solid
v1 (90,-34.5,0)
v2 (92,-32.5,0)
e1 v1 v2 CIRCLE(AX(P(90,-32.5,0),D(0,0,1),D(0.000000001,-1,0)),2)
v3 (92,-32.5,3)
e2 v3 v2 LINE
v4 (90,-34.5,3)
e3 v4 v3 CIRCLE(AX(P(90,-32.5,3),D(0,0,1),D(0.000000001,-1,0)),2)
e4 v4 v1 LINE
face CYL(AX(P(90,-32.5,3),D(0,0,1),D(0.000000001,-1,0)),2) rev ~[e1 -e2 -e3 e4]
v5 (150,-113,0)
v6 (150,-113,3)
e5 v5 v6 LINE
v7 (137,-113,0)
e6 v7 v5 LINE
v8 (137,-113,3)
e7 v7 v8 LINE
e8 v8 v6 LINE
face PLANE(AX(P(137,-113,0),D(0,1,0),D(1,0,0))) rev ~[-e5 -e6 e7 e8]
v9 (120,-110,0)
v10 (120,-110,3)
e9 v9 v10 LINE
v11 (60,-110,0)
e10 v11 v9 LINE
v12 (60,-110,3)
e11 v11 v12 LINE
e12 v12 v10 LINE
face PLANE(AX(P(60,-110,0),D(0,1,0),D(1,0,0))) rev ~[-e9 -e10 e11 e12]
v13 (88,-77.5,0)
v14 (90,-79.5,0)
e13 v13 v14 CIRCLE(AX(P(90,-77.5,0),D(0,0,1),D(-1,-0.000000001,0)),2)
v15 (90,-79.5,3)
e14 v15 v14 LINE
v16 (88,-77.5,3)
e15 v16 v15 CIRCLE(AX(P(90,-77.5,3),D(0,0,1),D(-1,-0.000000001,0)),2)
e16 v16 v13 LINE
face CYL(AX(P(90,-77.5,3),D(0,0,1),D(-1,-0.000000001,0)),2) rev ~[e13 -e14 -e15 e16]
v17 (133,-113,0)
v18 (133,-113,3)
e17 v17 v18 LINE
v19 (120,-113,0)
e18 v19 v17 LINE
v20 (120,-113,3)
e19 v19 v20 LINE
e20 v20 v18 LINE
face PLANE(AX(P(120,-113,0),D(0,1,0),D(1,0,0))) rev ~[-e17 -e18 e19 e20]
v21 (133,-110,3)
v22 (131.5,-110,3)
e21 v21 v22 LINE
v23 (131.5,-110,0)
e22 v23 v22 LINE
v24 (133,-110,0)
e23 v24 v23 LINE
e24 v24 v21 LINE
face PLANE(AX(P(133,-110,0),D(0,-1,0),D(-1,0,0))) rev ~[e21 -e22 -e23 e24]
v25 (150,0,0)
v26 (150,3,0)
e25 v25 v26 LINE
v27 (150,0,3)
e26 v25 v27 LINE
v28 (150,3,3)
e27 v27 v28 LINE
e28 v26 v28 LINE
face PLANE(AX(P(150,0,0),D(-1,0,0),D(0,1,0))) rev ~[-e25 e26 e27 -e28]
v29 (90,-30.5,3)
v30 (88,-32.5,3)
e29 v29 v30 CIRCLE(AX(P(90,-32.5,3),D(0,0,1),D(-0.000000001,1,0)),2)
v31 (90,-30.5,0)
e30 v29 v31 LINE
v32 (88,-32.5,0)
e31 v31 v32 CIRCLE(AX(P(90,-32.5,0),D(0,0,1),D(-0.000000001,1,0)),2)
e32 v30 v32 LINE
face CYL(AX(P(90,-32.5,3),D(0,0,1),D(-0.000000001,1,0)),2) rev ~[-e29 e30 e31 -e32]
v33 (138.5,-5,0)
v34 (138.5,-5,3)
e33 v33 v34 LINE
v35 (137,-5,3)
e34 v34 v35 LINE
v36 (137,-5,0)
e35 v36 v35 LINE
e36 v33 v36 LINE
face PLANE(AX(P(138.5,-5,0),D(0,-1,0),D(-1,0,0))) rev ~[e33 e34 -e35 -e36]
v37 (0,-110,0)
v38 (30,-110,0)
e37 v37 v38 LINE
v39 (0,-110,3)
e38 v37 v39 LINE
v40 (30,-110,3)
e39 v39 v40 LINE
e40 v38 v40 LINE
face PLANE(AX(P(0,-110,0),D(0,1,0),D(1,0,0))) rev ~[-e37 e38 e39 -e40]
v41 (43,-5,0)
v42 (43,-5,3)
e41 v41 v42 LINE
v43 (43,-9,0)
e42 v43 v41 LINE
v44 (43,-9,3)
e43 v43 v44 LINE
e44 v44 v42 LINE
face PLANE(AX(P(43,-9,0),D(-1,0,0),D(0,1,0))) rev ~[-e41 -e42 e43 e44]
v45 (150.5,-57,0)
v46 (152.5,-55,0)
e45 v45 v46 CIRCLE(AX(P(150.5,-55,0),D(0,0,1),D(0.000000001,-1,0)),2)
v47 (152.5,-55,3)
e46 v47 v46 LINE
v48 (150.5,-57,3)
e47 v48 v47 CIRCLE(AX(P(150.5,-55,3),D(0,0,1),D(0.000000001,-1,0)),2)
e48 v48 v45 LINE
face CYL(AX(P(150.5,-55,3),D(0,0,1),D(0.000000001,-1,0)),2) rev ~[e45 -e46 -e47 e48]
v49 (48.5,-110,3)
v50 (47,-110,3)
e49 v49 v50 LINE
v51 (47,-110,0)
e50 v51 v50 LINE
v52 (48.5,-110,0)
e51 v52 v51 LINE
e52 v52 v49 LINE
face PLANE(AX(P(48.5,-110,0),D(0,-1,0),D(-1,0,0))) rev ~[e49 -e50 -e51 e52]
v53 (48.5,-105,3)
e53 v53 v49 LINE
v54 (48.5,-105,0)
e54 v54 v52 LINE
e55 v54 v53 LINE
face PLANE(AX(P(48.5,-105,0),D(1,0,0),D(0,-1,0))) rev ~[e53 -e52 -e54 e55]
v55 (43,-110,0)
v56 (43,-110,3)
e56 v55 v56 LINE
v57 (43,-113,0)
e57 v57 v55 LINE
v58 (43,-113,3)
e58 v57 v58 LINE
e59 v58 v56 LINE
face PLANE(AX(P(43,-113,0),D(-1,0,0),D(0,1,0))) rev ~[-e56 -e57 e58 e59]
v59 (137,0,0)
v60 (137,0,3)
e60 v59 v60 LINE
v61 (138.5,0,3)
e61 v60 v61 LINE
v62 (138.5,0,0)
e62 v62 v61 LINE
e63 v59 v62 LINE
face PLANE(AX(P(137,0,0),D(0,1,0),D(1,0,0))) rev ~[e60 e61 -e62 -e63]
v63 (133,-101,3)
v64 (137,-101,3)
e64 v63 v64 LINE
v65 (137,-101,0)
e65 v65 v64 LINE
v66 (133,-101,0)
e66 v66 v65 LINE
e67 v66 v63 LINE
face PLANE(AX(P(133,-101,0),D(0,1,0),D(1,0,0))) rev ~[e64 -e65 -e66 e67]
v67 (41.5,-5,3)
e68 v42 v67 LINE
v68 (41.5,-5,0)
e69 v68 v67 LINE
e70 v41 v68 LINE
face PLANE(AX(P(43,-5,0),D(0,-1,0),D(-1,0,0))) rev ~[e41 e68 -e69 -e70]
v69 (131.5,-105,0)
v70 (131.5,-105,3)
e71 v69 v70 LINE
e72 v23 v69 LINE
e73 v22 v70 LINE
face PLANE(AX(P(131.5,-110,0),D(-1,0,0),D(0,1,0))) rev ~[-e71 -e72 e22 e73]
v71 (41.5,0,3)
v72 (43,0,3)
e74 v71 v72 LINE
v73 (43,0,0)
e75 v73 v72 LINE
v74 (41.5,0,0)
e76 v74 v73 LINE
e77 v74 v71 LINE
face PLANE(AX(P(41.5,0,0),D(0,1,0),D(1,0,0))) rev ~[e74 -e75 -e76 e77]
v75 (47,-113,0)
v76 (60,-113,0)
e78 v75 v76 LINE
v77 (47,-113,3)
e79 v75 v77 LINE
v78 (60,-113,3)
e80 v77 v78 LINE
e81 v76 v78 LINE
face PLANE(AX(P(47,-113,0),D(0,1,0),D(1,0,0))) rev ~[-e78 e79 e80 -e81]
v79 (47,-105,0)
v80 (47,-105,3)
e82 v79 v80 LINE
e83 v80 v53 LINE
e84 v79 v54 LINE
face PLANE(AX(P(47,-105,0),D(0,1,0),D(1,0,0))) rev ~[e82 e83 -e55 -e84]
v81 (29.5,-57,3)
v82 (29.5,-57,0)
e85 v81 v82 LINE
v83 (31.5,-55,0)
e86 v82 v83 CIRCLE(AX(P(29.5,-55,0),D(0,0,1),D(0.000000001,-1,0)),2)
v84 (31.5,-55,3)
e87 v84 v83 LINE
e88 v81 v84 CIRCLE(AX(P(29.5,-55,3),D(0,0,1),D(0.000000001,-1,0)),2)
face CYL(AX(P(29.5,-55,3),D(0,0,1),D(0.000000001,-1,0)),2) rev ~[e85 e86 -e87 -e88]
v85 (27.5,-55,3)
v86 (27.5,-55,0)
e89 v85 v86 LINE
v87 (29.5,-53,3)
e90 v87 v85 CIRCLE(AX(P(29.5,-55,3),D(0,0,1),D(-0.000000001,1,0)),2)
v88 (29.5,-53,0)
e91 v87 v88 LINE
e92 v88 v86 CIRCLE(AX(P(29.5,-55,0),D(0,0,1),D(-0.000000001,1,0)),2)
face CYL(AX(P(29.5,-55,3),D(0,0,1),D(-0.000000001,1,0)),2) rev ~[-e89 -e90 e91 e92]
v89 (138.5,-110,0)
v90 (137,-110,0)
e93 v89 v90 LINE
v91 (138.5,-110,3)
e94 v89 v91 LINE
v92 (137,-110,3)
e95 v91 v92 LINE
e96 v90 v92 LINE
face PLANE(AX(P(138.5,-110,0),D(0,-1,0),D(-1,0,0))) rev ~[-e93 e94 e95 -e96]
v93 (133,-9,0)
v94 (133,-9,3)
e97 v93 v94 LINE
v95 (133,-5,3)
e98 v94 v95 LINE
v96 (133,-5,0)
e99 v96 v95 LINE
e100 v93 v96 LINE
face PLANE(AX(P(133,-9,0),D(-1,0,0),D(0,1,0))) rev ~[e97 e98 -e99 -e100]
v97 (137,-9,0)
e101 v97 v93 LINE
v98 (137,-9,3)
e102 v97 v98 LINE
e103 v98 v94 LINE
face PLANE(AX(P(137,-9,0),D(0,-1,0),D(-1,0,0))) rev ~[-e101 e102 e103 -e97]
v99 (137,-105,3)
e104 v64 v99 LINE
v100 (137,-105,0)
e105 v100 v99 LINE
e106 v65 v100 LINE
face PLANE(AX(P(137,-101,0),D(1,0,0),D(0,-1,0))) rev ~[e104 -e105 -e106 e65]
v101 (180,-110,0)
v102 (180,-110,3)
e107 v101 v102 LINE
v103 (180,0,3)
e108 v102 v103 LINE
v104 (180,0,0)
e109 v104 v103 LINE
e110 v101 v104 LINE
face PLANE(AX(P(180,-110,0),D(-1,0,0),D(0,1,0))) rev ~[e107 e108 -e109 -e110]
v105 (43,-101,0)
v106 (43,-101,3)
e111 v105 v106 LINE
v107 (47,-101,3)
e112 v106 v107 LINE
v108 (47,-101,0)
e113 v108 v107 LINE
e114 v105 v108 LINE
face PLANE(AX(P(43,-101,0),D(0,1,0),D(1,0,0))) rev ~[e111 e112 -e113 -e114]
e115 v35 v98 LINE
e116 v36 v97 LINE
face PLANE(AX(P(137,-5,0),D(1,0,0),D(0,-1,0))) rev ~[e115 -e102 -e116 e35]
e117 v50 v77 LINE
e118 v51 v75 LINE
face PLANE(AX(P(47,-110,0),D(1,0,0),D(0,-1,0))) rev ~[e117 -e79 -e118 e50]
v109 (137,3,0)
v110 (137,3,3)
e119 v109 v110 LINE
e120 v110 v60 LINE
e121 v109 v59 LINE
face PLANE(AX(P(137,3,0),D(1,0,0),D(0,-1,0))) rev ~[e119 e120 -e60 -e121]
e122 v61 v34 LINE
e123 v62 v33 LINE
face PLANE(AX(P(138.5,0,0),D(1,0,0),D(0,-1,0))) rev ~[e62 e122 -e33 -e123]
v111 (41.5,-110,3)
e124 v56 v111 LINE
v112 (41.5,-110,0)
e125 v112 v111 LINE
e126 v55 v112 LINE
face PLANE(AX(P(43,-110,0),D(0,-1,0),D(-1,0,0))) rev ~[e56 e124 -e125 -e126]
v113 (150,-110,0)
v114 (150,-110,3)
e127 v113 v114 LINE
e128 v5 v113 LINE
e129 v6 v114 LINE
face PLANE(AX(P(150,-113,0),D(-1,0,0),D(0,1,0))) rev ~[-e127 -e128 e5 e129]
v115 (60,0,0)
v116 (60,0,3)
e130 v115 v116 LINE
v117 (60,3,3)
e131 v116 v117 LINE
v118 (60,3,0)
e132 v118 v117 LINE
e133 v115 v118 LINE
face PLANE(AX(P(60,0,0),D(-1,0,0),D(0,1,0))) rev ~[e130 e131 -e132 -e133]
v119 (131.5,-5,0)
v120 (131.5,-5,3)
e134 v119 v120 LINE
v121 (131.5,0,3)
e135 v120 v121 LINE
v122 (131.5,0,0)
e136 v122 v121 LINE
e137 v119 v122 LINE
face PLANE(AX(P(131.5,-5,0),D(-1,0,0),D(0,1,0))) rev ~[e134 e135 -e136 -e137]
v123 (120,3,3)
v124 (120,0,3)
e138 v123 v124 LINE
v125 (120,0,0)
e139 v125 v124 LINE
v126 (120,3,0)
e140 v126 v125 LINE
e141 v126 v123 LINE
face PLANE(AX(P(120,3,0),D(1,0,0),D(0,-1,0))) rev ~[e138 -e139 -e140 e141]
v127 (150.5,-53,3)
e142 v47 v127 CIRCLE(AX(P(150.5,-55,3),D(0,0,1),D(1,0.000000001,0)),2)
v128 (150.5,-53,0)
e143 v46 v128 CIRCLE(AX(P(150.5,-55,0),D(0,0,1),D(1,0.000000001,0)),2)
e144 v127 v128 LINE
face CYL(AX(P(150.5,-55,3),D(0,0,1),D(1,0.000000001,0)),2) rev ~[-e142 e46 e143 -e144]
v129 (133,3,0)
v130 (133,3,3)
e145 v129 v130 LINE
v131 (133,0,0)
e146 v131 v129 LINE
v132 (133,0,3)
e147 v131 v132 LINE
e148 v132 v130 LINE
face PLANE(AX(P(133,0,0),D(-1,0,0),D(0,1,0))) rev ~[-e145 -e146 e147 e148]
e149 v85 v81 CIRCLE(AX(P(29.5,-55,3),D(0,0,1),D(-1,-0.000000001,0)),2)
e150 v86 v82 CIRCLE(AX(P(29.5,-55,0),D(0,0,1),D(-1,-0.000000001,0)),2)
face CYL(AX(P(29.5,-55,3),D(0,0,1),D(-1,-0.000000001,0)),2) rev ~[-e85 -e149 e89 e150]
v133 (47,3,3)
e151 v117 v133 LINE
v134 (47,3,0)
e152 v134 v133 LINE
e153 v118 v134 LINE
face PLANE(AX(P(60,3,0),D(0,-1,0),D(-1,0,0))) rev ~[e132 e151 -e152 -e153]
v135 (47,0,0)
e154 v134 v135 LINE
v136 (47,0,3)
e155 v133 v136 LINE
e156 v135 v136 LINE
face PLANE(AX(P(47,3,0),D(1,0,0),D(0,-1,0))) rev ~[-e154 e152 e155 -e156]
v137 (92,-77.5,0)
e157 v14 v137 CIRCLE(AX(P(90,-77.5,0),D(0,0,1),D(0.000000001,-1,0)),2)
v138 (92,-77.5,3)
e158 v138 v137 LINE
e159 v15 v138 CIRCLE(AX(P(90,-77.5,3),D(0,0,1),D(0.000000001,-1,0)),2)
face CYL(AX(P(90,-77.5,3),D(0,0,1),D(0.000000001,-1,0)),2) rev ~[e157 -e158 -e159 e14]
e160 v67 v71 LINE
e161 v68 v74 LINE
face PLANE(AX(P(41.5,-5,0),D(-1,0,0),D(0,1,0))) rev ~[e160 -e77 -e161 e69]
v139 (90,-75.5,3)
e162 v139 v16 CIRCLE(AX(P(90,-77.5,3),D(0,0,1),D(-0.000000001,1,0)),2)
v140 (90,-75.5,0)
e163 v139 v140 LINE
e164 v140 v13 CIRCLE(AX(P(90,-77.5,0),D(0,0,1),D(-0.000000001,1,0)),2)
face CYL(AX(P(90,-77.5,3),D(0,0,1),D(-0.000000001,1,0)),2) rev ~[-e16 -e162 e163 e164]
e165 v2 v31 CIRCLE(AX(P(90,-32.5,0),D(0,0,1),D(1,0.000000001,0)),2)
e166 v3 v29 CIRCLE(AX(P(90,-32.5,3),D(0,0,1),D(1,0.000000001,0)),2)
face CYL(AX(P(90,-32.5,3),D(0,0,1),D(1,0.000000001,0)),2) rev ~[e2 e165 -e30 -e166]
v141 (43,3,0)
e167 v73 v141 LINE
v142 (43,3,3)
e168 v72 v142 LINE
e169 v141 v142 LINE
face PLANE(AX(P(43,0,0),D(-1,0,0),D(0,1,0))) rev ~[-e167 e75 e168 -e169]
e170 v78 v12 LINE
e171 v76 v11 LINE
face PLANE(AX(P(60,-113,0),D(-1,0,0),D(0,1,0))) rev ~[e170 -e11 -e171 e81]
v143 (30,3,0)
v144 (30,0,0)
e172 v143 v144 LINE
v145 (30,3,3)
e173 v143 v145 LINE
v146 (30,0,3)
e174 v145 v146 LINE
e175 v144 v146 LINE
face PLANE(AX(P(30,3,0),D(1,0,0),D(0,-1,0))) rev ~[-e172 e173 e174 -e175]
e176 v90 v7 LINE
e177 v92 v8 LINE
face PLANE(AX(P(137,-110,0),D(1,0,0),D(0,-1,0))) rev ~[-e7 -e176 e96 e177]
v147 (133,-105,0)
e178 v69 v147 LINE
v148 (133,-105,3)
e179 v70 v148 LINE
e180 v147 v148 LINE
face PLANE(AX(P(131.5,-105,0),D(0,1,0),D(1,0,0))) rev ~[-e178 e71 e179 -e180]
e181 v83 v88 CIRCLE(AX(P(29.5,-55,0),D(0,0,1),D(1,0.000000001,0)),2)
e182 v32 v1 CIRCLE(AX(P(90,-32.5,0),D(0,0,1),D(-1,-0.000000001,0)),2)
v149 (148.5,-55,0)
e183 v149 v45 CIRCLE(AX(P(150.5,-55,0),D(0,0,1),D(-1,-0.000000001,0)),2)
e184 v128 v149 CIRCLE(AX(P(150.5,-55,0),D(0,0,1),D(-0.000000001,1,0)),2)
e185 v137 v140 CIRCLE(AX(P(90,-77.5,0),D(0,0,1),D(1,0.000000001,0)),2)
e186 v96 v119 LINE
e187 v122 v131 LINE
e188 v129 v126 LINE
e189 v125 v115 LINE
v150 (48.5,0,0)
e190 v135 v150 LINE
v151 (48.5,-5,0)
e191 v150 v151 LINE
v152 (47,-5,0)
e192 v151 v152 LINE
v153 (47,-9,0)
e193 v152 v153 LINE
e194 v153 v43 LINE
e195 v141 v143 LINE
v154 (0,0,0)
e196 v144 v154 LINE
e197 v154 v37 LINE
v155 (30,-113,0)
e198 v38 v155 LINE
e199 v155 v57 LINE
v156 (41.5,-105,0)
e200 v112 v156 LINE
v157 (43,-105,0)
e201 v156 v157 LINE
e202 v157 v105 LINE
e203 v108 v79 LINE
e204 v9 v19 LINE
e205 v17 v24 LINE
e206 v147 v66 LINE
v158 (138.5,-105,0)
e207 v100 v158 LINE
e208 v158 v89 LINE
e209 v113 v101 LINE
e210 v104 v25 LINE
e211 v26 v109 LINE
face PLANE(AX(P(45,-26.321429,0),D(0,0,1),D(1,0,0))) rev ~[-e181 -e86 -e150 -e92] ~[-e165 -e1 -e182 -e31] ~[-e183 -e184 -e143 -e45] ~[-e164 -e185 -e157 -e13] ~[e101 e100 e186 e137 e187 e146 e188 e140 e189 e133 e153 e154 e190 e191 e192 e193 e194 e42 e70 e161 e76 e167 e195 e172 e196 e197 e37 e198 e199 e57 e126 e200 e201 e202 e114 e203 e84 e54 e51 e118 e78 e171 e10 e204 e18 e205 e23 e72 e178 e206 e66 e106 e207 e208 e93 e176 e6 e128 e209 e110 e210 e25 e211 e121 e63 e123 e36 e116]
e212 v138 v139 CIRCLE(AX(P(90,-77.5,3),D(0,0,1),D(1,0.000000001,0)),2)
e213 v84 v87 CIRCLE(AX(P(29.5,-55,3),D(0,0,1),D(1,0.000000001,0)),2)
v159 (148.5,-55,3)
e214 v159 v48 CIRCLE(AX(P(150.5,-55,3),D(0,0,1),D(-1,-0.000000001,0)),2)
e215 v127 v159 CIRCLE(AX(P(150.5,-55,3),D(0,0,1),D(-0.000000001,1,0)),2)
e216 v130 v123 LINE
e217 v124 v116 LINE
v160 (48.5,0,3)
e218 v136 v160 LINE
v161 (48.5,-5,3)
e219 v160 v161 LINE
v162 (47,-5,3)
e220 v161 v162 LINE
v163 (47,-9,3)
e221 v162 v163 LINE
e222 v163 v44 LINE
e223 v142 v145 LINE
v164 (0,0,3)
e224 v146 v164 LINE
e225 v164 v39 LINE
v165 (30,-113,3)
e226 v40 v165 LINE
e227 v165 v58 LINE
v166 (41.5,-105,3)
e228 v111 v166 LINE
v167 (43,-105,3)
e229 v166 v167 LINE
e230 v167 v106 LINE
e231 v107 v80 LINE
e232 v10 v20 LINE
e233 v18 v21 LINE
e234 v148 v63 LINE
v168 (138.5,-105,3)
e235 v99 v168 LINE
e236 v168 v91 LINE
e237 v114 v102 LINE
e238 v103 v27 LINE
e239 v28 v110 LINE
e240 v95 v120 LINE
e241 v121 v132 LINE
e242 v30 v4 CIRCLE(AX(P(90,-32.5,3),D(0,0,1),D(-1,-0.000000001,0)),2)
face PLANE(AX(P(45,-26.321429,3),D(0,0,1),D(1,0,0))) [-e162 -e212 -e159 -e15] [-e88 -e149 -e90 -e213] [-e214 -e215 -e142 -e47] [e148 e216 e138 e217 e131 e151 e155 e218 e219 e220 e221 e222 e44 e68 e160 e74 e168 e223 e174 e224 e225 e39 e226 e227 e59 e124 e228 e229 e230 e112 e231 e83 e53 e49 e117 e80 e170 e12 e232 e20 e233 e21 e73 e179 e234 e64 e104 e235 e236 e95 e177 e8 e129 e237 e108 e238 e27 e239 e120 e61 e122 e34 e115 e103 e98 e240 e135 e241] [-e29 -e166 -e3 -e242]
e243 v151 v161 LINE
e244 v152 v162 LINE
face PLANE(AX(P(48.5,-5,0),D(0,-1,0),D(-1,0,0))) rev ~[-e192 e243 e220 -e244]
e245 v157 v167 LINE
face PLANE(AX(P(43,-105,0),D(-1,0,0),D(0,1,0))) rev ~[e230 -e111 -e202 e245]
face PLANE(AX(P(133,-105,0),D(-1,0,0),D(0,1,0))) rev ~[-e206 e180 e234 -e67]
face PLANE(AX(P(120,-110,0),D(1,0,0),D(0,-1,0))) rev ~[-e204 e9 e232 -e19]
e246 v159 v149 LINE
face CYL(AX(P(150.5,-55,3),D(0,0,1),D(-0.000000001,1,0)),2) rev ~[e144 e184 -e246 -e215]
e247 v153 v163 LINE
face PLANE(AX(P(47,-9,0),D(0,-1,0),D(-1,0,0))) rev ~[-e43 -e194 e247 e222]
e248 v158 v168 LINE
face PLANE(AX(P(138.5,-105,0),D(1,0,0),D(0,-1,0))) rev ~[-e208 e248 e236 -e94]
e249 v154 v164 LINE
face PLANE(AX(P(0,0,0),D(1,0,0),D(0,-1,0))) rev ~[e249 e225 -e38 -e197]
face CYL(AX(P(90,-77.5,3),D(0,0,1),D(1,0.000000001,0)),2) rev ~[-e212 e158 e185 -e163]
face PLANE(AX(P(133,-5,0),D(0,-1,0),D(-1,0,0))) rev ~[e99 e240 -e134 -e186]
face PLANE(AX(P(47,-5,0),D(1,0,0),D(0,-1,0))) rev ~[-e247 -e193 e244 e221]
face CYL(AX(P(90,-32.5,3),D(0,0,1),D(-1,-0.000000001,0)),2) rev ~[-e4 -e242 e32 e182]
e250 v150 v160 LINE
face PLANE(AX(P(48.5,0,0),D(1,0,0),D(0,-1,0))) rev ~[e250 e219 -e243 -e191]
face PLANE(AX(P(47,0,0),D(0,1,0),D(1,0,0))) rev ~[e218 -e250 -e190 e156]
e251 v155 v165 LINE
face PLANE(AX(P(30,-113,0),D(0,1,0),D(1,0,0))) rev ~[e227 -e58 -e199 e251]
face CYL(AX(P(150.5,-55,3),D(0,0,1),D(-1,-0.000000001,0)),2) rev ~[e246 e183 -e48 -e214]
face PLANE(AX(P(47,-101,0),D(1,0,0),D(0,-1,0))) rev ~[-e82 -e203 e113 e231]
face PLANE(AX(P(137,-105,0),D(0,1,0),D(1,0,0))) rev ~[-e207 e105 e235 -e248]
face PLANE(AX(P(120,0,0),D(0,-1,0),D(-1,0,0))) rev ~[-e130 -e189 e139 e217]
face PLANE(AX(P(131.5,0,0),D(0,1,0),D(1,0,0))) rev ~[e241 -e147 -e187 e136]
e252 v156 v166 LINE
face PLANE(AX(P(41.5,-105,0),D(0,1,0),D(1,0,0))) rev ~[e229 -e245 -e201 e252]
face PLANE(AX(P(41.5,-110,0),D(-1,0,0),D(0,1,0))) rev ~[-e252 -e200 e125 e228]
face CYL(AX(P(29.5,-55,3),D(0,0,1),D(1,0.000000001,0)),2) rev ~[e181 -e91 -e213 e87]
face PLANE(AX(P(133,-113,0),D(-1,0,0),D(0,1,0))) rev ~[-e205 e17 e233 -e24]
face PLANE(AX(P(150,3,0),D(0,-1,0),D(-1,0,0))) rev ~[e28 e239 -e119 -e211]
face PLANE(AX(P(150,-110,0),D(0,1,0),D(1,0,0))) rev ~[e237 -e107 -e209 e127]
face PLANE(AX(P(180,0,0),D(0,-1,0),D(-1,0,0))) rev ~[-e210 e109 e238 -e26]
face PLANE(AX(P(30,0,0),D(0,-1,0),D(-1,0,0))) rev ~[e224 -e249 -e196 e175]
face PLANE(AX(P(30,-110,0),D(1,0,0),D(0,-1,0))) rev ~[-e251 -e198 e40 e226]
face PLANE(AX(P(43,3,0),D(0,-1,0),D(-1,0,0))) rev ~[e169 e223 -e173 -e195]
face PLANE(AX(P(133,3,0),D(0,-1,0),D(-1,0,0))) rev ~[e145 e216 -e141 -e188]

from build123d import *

# Parameters (mm, degrees)
EXTRUDE_1_DEPTH     = 3
CUT_EXTRUDE_1_DEPTH = 213.55117031


with BuildPart() as part:
    # 草图1 → 凸台-拉伸1 (new body)
    with BuildSketch(Plane.XY):
        Polygon((90, -55), (90, 0), (60, 0), (48.5, 0), (48.5, -5), (47, -5), (47, -9), (43, -9), (43, -5), (41.5, -5), (41.5, 0), (30, 0), (0, 0), (0, -55), align=None)
        Polygon((120, 0), (90, 0), (90, -55), (180, -55), (180, 0), (150, 0), (138.5, 0), (138.5, -5), (137, -5), (137, -9), (133, -9), (133, -5), (131.5, -5), (131.5, 0), align=None)
        Polygon((180, -55), (90, -55), (90, -110), (120, -110), (131.5, -110), (131.5, -105), (133, -105), (133, -101), (137, -101), (137, -105), (138.5, -105), (138.5, -110), (150, -110), (180, -110), align=None)
        Polygon((90, -110), (90, -55), (0, -55), (0, -110), (30, -110), (41.5, -110), (41.5, -105), (43, -105), (43, -101), (47, -101), (47, -105), (48.5, -105), (48.5, -110), (60, -110), align=None)
        Polygon((120, 3), (120, 0), (131.5, 0), (133, 0), (133, 3), align=None)
        Polygon((138.5, 0), (150, 0), (150, 3), (137, 3), (137, 0), align=None)
        Polygon((30, 3), (30, 0), (41.5, 0), (43, 0), (43, 3), align=None)
        Polygon((48.5, 0), (60, 0), (60, 3), (47, 3), (47, 0), align=None)
        Polygon((60, -113), (60, -110), (48.5, -110), (47, -110), (47, -113), align=None)
        Polygon((41.5, -110), (30, -110), (30, -113), (43, -113), (43, -110), align=None)
        Polygon((150, -113), (150, -110), (138.5, -110), (137, -110), (137, -113), align=None)
        Polygon((131.5, -110), (120, -110), (120, -113), (133, -113), (133, -110), align=None)
    extrude(amount=EXTRUDE_1_DEPTH)

    # 草图2 → 切除-拉伸1 (cut, through all)
    with BuildSketch(Plane.XY.offset(3)):
        with BuildLine():
            ThreePointArc((31.5, -55), (30.914213562, -53.585786438), (29.5, -53))
            Line((29.5, -53), (29.5, -55))
            Line((29.5, -55), (31.5, -55))
        make_face()
        with BuildLine():
            Line((29.5, -55), (29.5, -53))
            ThreePointArc((29.5, -53), (28.085786438, -53.585786438), (27.5, -55))
            Line((27.5, -55), (29.5, -55))
        make_face()
        with BuildLine():
            ThreePointArc((29.5, -57), (30.914213562, -56.414213562), (31.5, -55))
            Line((31.5, -55), (29.5, -55))
            Line((29.5, -55), (29.5, -57))
        make_face()
        with BuildLine():
            Line((29.5, -57), (29.5, -55))
            Line((29.5, -55), (27.5, -55))
            ThreePointArc((27.5, -55), (28.085786438, -56.414213562), (29.5, -57))
        make_face()
        with BuildLine():
            ThreePointArc((92, -77.5), (91.414213562, -76.085786438), (90, -75.5))
            Line((90, -75.5), (90, -77.5))
            Line((90, -77.5), (92, -77.5))
        make_face()
        with BuildLine():
            Line((90, -77.5), (90, -75.5))
            ThreePointArc((90, -75.5), (88.585786438, -76.085786438), (88, -77.5))
            Line((88, -77.5), (90, -77.5))
        make_face()
        with BuildLine():
            Line((92, -77.5), (90, -77.5))
            Line((90, -77.5), (90, -79.5))
            ThreePointArc((90, -79.5), (91.414213562, -78.914213562), (92, -77.5))
        make_face()
        with BuildLine():
            Line((90, -79.5), (90, -77.5))
            Line((90, -77.5), (88, -77.5))
            ThreePointArc((88, -77.5), (88.585786438, -78.914213562), (90, -79.5))
        make_face()
        with BuildLine():
            ThreePointArc((92, -32.5), (91.414213562, -31.085786438), (90, -30.5))
            Line((90, -30.5), (90, -32.5))
            Line((90, -32.5), (92, -32.5))
        make_face()
        with BuildLine():
            Line((90, -32.5), (90, -30.5))
            ThreePointArc((90, -30.5), (88.585786438, -31.085786438), (88, -32.5))
            Line((88, -32.5), (90, -32.5))
        make_face()
        with BuildLine():
            Line((92, -32.5), (90, -32.5))
            Line((90, -32.5), (90, -34.5))
            ThreePointArc((90, -34.5), (91.414213562, -33.914213562), (92, -32.5))
        make_face()
        with BuildLine():
            Line((90, -34.5), (90, -32.5))
            Line((90, -32.5), (88, -32.5))
            ThreePointArc((88, -32.5), (88.585786438, -33.914213562), (90, -34.5))
        make_face()
        with BuildLine():
            ThreePointArc((152.5, -55), (151.914213562, -53.585786438), (150.5, -53))
            Line((150.5, -53), (150.5, -55))
            Line((150.5, -55), (152.5, -55))
        make_face()
        with BuildLine():
            Line((150.5, -55), (150.5, -53))
            ThreePointArc((150.5, -53), (149.085786438, -53.585786438), (148.5, -55))
            Line((148.5, -55), (150.5, -55))
        make_face()
        with BuildLine():
            Line((150.5, -55), (148.5, -55))
            ThreePointArc((148.5, -55), (149.085786438, -56.414213562), (150.5, -57))
            Line((150.5, -57), (150.5, -55))
        make_face()
        with BuildLine():
            Line((152.5, -55), (150.5, -55))
            Line((150.5, -55), (150.5, -57))
            ThreePointArc((150.5, -57), (151.914213562, -56.414213562), (152.5, -55))
        make_face()
    extrude(amount=-CUT_EXTRUDE_1_DEPTH, mode=Mode.SUBTRACT)


solid = part.part
